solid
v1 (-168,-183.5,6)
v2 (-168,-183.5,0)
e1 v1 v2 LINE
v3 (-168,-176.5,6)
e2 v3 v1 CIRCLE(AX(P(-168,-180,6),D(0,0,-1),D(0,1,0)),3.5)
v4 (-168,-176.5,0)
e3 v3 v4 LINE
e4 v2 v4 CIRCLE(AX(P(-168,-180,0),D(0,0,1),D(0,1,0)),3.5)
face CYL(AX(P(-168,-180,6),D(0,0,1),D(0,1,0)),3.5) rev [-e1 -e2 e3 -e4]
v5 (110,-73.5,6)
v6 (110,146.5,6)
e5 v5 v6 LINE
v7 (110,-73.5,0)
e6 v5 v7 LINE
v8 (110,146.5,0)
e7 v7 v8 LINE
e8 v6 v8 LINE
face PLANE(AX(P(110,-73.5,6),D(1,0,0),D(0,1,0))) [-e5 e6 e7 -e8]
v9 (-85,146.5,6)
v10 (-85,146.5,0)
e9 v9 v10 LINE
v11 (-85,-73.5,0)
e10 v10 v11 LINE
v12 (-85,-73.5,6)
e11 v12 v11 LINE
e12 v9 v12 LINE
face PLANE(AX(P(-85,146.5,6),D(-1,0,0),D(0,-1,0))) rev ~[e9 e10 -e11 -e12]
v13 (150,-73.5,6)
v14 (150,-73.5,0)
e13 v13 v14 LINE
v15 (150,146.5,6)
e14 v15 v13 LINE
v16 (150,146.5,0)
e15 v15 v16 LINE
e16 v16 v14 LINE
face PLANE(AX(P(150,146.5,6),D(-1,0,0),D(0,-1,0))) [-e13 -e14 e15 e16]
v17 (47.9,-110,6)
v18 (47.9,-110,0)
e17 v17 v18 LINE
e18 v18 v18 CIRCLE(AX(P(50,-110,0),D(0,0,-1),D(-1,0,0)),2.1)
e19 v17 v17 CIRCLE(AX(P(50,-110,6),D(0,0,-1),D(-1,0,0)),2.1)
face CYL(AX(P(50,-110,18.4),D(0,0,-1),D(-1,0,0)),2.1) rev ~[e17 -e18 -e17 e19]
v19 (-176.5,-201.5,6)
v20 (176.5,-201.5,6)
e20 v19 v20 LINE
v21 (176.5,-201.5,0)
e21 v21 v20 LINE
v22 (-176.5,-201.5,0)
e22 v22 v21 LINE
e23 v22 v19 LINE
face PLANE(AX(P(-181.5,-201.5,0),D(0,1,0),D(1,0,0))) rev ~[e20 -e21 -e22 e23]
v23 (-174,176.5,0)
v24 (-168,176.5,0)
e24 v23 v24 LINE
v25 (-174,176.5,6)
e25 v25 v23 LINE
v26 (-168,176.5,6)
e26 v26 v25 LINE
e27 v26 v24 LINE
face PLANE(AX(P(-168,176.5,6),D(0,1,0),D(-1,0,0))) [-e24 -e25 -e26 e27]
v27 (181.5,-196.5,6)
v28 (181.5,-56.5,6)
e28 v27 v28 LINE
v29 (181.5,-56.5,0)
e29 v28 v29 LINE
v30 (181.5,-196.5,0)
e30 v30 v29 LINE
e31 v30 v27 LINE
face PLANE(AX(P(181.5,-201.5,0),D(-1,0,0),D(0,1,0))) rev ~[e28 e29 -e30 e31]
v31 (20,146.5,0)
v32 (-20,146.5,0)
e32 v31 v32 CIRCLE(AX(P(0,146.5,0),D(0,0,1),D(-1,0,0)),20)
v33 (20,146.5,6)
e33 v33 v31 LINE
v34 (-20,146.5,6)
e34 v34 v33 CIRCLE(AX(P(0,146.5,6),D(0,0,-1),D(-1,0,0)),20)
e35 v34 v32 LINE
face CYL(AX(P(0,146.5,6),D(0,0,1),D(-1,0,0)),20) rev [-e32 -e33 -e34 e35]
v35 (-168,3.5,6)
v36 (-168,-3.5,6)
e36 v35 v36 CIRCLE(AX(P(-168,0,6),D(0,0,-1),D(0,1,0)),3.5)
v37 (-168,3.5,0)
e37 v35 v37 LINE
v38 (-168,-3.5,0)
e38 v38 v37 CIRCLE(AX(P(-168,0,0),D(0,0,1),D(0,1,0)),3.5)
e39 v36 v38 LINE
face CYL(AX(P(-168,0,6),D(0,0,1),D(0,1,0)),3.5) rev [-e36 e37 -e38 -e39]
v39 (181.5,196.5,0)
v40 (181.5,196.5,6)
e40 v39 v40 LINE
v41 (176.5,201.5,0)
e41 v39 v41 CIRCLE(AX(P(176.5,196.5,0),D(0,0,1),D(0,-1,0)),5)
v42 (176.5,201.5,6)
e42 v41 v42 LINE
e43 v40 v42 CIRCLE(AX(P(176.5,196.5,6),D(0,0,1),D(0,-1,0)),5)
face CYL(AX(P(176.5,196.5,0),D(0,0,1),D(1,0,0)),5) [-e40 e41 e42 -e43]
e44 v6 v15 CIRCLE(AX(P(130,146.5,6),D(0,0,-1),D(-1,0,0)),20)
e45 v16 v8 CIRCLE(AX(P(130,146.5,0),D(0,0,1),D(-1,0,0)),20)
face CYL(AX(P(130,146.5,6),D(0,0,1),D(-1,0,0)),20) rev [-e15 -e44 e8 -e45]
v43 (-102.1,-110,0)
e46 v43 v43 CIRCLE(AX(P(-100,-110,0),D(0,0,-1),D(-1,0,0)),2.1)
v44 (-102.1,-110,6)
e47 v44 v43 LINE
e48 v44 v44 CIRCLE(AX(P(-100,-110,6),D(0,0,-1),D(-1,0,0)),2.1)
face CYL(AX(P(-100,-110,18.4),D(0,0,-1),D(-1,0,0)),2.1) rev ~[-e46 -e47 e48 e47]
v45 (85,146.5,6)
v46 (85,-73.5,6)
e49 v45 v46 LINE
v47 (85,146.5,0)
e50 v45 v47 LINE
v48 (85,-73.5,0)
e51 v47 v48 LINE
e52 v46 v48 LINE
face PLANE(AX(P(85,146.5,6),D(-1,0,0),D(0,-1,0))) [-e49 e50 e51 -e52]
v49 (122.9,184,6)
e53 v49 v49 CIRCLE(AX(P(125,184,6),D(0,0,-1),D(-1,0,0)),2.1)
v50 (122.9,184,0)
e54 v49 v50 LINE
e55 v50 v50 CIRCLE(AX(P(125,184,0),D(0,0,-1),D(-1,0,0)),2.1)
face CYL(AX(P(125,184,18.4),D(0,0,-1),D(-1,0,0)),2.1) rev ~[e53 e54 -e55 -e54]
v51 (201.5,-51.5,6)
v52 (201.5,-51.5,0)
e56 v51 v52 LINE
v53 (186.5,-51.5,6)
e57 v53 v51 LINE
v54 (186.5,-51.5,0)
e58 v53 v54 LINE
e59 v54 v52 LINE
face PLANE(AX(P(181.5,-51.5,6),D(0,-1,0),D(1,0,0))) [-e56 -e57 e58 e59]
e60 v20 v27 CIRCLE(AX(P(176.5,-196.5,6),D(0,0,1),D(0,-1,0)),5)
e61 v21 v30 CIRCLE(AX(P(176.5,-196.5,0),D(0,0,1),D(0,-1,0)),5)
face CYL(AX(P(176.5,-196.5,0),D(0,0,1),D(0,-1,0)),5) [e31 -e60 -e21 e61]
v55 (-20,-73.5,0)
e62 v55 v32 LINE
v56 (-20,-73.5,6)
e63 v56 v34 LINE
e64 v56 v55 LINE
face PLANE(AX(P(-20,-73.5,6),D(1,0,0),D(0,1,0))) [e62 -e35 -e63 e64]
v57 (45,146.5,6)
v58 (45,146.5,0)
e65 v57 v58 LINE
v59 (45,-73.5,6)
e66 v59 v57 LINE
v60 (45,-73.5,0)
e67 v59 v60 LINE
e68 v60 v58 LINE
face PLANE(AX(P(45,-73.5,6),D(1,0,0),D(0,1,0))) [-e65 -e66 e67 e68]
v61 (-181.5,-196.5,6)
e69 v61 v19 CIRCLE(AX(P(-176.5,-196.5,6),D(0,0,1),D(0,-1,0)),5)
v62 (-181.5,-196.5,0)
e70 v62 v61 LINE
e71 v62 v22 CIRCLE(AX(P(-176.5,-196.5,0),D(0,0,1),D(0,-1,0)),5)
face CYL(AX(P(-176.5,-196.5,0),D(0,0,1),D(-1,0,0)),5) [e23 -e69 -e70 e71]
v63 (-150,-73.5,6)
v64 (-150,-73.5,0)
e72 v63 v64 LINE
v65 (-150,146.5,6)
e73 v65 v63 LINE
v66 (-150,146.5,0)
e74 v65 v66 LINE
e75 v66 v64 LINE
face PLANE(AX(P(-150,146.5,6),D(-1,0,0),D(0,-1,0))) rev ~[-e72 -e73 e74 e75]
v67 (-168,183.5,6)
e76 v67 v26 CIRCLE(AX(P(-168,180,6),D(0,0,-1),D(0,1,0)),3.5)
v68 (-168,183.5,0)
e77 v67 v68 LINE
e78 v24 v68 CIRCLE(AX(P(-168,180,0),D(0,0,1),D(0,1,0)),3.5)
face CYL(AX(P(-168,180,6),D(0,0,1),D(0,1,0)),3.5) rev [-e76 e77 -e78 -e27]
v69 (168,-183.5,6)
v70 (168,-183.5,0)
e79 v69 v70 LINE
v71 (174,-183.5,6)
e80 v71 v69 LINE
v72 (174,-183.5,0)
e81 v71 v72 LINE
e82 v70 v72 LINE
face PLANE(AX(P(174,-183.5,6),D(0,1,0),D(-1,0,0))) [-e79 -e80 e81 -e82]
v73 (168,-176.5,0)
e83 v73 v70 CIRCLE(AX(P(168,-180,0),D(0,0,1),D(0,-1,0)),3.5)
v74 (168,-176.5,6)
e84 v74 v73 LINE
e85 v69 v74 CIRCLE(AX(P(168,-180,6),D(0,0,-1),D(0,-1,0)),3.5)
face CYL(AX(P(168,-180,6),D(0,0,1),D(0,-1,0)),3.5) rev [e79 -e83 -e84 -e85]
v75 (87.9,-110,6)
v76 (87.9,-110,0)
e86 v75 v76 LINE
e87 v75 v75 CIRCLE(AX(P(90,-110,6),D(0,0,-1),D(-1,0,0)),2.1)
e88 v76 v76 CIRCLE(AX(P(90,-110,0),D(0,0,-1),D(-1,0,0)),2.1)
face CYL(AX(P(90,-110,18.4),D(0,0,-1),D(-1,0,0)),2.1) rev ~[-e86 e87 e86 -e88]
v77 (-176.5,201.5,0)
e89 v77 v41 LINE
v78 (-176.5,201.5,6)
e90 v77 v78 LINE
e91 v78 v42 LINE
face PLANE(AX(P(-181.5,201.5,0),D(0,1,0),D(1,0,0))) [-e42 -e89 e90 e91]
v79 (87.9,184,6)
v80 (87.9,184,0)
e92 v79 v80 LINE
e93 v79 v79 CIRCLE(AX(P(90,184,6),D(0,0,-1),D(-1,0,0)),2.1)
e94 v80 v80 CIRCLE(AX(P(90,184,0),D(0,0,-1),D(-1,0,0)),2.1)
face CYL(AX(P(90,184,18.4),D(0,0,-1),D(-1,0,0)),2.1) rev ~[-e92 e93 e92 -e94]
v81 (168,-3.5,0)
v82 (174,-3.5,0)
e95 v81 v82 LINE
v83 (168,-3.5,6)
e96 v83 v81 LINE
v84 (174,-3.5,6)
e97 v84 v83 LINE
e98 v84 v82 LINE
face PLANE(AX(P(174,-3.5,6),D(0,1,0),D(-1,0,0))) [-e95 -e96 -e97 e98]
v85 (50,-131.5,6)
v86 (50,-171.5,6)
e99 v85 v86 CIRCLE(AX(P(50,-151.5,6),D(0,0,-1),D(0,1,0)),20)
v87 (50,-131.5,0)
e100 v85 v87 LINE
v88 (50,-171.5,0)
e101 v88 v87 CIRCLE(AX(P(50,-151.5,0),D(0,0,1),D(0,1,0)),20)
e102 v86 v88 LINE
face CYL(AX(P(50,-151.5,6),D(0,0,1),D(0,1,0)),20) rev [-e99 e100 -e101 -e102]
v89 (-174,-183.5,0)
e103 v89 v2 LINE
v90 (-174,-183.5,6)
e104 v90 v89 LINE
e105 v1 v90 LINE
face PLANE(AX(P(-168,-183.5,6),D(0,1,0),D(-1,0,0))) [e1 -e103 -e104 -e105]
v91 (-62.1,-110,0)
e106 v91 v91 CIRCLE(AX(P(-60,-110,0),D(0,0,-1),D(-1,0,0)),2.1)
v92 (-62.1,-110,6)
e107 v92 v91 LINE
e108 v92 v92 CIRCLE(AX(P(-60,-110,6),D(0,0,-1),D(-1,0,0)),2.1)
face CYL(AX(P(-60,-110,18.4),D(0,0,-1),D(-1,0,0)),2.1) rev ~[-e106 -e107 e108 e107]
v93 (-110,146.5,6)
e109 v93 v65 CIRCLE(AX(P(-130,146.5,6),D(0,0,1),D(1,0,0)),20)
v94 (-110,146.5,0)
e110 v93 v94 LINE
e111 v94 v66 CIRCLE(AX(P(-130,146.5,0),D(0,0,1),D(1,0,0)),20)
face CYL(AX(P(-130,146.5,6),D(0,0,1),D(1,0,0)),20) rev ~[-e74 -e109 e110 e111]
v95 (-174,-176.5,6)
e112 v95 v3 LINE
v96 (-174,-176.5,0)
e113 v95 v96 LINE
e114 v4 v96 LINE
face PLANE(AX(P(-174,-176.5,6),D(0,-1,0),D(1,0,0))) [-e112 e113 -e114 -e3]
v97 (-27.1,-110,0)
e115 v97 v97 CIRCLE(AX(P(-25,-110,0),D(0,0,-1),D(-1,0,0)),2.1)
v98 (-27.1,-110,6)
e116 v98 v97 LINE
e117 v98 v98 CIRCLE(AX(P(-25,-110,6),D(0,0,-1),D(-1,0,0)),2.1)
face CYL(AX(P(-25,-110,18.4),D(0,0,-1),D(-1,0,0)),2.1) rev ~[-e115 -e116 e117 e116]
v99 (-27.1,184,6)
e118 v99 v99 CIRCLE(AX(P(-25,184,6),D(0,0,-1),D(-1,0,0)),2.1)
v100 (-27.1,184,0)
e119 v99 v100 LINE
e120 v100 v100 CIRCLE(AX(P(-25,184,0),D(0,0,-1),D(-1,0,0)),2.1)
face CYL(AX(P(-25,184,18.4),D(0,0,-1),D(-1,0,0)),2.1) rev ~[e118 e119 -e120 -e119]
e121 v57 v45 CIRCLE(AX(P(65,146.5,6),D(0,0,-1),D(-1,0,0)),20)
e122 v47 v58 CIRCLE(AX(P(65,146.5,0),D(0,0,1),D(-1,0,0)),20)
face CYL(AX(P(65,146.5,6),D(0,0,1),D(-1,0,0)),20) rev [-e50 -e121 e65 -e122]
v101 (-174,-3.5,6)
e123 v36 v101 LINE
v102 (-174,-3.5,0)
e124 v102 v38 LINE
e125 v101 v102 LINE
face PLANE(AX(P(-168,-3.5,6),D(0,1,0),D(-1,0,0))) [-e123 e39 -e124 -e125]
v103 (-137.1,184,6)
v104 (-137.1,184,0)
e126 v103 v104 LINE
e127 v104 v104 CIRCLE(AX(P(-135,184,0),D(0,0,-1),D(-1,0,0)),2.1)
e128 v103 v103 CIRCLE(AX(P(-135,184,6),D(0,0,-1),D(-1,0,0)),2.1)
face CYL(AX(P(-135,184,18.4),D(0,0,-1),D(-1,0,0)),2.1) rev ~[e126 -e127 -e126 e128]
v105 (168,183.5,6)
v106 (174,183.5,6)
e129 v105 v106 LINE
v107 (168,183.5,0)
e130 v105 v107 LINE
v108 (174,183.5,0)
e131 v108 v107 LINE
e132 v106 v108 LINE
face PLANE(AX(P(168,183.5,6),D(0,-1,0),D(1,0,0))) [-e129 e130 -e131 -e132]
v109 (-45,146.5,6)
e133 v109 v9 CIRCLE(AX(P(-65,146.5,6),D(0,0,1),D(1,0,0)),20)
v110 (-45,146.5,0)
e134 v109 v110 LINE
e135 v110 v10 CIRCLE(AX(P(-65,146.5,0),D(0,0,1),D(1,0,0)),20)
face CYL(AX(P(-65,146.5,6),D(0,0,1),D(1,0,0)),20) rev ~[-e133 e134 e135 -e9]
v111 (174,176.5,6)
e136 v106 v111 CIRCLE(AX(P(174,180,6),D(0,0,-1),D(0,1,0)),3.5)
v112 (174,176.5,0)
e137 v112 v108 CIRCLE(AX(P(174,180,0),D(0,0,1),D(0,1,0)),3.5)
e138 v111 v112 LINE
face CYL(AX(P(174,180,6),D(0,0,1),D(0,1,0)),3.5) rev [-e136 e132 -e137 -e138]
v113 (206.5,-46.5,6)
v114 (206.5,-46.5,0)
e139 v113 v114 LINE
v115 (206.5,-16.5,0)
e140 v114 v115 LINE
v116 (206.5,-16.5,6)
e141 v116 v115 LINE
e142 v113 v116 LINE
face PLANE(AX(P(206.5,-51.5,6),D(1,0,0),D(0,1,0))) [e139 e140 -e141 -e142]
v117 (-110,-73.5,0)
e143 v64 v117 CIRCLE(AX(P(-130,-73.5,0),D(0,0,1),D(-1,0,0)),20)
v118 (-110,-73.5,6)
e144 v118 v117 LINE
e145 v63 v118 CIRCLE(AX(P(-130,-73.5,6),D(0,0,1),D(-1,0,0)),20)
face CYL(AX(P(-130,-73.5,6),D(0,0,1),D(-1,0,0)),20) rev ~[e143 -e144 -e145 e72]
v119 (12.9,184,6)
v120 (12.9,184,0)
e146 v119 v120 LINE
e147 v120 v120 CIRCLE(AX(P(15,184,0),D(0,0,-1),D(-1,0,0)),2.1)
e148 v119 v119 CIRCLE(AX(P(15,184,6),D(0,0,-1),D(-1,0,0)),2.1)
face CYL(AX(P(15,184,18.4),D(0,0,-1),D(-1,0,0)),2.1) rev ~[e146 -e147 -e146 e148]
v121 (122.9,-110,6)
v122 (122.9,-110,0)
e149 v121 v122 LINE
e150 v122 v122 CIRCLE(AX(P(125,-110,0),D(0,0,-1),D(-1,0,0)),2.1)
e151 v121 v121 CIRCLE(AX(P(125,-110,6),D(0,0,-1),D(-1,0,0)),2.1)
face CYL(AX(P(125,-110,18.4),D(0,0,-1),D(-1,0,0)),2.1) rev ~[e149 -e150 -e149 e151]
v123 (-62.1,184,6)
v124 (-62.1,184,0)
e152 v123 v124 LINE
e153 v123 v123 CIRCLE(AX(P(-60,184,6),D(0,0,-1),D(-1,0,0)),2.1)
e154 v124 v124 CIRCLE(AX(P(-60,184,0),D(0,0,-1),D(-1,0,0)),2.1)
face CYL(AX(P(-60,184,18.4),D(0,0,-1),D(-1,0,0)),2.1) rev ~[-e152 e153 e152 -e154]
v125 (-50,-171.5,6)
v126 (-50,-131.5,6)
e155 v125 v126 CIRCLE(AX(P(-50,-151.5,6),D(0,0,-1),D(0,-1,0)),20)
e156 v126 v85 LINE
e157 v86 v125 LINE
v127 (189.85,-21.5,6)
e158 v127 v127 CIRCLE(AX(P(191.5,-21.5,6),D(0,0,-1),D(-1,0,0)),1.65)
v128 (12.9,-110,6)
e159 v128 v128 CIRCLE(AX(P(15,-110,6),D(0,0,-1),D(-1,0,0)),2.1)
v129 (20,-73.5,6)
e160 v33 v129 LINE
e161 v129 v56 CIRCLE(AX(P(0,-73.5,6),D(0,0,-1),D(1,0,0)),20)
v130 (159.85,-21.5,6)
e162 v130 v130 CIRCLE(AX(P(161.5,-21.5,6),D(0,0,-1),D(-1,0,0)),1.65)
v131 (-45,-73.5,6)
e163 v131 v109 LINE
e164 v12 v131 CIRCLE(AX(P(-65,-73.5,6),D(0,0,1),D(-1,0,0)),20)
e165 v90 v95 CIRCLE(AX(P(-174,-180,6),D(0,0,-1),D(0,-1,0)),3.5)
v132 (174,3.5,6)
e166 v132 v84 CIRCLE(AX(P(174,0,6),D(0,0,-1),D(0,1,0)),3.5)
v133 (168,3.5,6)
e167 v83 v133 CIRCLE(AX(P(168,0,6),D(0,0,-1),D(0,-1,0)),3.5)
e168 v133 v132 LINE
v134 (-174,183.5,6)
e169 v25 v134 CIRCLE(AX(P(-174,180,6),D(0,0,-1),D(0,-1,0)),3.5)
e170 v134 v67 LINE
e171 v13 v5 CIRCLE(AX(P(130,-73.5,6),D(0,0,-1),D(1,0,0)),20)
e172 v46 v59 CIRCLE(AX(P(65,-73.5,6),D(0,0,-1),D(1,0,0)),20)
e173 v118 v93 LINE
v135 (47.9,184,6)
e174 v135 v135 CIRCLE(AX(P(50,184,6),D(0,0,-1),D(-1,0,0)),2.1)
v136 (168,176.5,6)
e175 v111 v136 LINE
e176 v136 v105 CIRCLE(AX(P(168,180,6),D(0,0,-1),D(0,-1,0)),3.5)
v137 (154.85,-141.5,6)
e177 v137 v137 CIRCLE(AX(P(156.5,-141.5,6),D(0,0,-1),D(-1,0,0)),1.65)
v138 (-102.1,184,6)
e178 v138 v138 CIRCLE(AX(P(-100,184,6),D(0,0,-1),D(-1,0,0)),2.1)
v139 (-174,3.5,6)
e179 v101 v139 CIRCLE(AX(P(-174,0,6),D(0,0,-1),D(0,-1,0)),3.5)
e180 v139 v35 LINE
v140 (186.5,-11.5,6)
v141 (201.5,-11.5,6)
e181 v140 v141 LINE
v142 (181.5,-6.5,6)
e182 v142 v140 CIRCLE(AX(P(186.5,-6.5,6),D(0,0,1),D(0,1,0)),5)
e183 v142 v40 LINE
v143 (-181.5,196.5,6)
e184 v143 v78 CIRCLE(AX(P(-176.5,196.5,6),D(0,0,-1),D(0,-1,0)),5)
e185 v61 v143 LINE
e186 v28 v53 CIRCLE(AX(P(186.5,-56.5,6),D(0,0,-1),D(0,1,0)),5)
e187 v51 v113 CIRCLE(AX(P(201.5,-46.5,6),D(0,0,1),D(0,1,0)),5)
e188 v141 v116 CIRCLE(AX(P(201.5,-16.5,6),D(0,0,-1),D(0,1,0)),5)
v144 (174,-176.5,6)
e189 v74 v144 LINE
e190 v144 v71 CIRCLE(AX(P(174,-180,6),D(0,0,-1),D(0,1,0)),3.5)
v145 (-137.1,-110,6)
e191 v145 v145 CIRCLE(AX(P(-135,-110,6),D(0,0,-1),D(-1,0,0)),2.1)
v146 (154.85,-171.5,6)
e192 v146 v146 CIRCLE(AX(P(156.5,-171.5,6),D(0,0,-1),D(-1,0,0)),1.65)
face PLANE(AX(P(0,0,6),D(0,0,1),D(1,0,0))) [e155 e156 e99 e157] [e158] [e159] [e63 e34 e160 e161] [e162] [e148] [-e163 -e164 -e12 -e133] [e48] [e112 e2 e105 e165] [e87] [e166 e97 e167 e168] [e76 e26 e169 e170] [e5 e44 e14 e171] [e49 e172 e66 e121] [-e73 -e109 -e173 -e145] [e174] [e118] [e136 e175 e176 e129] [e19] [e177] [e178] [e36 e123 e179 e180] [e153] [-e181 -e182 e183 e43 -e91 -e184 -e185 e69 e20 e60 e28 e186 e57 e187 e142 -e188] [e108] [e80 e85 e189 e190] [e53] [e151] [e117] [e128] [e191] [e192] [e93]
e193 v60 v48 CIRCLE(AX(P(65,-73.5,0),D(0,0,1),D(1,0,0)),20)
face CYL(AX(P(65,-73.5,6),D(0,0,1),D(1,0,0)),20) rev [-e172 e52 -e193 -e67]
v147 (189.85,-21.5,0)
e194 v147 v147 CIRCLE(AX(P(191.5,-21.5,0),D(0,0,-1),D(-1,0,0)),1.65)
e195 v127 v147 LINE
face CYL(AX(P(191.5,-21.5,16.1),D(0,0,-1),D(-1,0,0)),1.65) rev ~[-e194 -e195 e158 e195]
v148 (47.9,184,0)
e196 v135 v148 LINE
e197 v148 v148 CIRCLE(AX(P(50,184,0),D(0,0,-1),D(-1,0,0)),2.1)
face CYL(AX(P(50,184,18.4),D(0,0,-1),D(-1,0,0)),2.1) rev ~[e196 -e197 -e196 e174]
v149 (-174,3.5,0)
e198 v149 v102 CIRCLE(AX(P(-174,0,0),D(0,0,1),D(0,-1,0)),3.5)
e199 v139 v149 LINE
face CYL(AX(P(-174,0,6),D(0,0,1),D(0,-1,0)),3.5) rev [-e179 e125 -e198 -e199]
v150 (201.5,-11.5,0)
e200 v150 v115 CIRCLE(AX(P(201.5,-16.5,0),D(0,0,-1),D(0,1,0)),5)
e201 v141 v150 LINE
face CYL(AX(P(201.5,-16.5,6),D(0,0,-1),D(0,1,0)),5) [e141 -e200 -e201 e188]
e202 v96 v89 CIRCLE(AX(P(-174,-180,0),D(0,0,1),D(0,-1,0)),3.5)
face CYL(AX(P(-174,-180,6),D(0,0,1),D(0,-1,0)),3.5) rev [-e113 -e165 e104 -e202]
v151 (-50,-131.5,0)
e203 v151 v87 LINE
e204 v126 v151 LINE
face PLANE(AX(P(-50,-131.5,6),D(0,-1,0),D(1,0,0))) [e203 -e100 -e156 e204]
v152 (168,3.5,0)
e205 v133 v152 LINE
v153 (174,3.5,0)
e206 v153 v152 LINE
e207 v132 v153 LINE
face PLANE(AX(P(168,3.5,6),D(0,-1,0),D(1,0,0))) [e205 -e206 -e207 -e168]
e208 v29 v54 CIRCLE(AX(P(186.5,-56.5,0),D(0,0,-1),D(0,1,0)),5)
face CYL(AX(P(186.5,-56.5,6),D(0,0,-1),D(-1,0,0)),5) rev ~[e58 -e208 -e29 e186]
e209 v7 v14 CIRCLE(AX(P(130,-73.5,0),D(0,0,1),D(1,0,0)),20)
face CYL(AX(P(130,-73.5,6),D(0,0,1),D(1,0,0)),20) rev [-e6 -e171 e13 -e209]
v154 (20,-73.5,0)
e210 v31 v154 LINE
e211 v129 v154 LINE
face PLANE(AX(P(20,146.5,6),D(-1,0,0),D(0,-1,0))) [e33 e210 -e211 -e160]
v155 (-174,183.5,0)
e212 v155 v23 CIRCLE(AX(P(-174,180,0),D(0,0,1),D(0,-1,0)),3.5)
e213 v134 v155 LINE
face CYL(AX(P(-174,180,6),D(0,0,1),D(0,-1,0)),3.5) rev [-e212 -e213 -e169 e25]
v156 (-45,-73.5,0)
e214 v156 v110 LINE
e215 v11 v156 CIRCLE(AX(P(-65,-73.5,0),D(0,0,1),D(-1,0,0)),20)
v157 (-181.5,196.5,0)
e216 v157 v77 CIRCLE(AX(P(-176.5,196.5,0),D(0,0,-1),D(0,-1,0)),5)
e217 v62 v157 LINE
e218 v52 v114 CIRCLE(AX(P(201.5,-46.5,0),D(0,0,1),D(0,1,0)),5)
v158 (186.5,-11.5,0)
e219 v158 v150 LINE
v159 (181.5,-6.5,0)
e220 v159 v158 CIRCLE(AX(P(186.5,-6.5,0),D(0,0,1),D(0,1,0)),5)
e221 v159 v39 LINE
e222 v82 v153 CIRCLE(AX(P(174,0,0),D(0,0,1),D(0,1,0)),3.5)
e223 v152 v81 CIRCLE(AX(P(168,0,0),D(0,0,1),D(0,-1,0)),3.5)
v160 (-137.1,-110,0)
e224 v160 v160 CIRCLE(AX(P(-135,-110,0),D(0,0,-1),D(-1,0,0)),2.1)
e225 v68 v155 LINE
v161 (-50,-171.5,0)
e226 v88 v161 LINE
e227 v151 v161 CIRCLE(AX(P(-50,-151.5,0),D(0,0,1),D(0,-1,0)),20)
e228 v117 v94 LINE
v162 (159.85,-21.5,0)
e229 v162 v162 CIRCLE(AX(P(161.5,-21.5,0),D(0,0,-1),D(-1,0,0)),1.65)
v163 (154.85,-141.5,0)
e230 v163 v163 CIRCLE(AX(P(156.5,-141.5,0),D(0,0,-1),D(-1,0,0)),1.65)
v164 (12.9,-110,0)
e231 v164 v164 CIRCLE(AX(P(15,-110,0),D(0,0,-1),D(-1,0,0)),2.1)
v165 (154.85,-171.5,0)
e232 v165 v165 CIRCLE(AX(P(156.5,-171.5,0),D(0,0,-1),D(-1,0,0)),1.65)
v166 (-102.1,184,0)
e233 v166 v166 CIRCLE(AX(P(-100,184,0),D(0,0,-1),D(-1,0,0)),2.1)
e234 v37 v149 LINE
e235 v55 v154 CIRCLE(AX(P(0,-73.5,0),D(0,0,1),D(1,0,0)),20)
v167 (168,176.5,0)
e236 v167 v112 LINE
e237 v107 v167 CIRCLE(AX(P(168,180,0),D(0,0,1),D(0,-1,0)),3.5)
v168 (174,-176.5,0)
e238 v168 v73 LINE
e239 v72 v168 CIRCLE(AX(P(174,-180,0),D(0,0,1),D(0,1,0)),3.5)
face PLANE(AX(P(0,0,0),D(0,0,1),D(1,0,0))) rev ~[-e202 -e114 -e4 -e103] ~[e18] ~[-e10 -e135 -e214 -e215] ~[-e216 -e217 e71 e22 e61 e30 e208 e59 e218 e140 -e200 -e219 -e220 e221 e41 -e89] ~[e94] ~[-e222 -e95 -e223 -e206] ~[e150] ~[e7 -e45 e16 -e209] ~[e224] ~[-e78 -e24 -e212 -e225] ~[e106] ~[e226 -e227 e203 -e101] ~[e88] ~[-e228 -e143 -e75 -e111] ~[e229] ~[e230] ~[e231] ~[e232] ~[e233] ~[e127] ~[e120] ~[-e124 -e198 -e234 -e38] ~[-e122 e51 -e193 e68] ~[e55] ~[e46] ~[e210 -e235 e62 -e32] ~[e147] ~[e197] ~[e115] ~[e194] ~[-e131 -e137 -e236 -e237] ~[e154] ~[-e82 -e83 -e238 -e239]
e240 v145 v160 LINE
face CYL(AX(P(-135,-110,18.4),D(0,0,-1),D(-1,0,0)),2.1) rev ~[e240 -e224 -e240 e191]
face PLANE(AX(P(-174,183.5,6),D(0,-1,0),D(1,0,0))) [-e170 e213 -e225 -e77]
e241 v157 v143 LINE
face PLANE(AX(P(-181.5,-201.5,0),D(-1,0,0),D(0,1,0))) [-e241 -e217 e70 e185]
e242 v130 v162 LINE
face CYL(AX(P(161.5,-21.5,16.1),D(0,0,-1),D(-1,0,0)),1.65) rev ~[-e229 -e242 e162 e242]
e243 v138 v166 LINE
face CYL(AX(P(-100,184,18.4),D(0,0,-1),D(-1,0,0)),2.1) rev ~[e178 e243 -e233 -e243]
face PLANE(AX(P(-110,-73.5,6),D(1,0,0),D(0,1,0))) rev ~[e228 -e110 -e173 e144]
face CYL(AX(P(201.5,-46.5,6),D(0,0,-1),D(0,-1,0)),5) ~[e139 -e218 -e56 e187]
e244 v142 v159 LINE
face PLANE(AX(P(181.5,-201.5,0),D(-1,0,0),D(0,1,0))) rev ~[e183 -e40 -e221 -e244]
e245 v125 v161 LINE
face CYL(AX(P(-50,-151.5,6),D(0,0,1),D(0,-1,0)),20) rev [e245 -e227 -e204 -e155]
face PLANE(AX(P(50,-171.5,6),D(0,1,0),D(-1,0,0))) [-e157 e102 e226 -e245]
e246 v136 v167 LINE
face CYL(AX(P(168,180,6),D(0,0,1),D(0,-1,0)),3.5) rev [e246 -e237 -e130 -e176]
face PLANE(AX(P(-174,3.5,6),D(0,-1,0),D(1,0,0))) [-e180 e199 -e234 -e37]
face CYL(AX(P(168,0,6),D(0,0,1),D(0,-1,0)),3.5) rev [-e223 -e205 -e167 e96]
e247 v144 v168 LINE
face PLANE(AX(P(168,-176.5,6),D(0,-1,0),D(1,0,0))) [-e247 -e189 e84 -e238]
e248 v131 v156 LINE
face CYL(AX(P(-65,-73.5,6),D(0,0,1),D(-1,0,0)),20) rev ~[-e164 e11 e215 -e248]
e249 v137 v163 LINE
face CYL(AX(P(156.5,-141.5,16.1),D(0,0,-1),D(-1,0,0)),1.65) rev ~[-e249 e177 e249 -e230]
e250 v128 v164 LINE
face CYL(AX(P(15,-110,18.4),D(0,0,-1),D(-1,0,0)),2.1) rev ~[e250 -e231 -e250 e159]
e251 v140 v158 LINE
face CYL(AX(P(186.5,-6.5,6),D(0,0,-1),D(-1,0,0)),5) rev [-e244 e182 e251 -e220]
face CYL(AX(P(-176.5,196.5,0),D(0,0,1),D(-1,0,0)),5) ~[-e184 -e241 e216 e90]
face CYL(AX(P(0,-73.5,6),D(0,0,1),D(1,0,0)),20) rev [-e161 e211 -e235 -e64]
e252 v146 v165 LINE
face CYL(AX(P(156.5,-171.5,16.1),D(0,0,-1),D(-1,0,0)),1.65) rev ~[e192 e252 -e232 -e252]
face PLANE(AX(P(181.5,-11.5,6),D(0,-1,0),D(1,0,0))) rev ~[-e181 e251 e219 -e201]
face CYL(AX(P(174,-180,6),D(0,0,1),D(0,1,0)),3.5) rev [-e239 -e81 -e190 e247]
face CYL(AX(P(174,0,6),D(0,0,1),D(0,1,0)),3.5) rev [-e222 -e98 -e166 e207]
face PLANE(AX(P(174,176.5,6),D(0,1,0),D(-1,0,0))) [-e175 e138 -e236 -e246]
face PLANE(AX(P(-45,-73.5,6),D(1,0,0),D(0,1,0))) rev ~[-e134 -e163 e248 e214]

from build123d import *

# Parameters (mm, degrees)
SKETCH_1_W             = 363
SKETCH_1_H             = 403
EXTRUDE_1_DEPTH        = 6
FILLET_1_R             = 5
SKETCH_3_R             = 3.5
CUT_EXTRUDE_2_DEPTH    = 10
HOLE_WIZARD_M5_1_D     = 4.2
HOLE_WIZARD_M5_1_DEPTH = 12.4
HOLE_WIZARD_M5_1_TIP   = 1.2618073
CUT_EXTRUDE_3_DEPTH    = 10
CUT_EXTRUDE_4_DEPTH    = 10
CUT_EXTRUDE_5_DEPTH    = 10
HOLE_WIZARD_M4_1_D     = 3.3
HOLE_WIZARD_M4_1_DEPTH = 10.1
HOLE_WIZARD_M4_1_TIP   = 0.991420021
SKETCH_11_W            = 25
SKETCH_11_H            = 40
EXTRUDE_2_DEPTH        = 6
HOLE_WIZARD_M4_2_D     = 3.3
HOLE_WIZARD_M4_2_DEPTH = 10.1
HOLE_WIZARD_M4_2_TIP   = 0.991420021
FILLET_2_R             = 5


with BuildPart() as part:
    # Sketch 1 → 凸台-拉伸1 (new body)
    with BuildSketch(Plane.XY):
        Rectangle(SKETCH_1_W, SKETCH_1_H)
    extrude(amount=EXTRUDE_1_DEPTH)

    # 圆角1
    fillet_1_edges = [part.edges().sort_by_distance(p)[0] for p in [
        (181.5, -201.5, 3),
        (-181.5, -201.5, 3),
        (-181.5, 201.5, 3),
        (181.5, 201.5, 3),
    ]]
    fillet(fillet_1_edges, radius=FILLET_1_R)

    # 草图3 → 切除-拉伸2 (cut)
    with BuildSketch(Plane.XY.offset(6)):
        with Locations((-171, -180)):
            Circle(SKETCH_3_R)
        with Locations((-171, 180)):
            Circle(SKETCH_3_R)
        with Locations((-171, 0)):
            Circle(SKETCH_3_R)
        with Locations((171, 0)):
            Circle(SKETCH_3_R)
        with Locations((171, 180)):
            Circle(SKETCH_3_R)
        with Locations((171, -180)):
            Circle(SKETCH_3_R)
    extrude(amount=-CUT_EXTRUDE_2_DEPTH, mode=Mode.SUBTRACT)

    # M5 螺纹孔1
    with Locations(Plane.XY.offset(6)):
        with Locations((-135, -110), (-100, -110), (-135, 184), (-100, 184), (-60, -110), (-25, -110), (-60, 184), (-25, 184), (15, -110), (50, -110), (15, 184), (50, 184), (90, -110), (125, -110), (90, 184), (125, 184)):
            Hole(HOLE_WIZARD_M5_1_D / 2, depth=HOLE_WIZARD_M5_1_DEPTH)
            with Locations((0, 0, -(HOLE_WIZARD_M5_1_DEPTH + HOLE_WIZARD_M5_1_TIP / 2))):  # 118° drill point
                Cone(0, HOLE_WIZARD_M5_1_D / 2, HOLE_WIZARD_M5_1_TIP, mode=Mode.SUBTRACT)

    # 草图6 → 切除-拉伸3 (cut)
    with BuildSketch(Plane.XY.offset(6)):
        with BuildLine():
            Line((-174, 183.5), (-168, 183.5))
            ThreePointArc((-168, 183.5), (-164.5, 180), (-168, 176.5))
            Line((-168, 176.5), (-174, 176.5))
            ThreePointArc((-174, 176.5), (-177.5, 180), (-174, 183.5))
        make_face()
        with BuildLine():
            Line((168, 183.5), (174, 183.5))
            ThreePointArc((174, 183.5), (177.5, 180), (174, 176.5))
            Line((174, 176.5), (168, 176.5))
            ThreePointArc((168, 176.5), (164.5, 180), (168, 183.5))
        make_face()
        with BuildLine():
            Line((168, 3.5), (174, 3.5))
            ThreePointArc((174, 3.5), (177.5, 0), (174, -3.5))
            Line((174, -3.5), (168, -3.5))
            ThreePointArc((168, -3.5), (164.5, 0), (168, 3.5))
        make_face()
        with BuildLine():
            Line((168, -176.5), (174, -176.5))
            ThreePointArc((174, -176.5), (177.5, -180), (174, -183.5))
            Line((174, -183.5), (168, -183.5))
            ThreePointArc((168, -183.5), (164.5, -180), (168, -176.5))
        make_face()
        with BuildLine():
            Line((-174, 3.5), (-168, 3.5))
            ThreePointArc((-168, 3.5), (-164.5, 0), (-168, -3.5))
            Line((-168, -3.5), (-174, -3.5))
            ThreePointArc((-174, -3.5), (-177.5, 0), (-174, 3.5))
        make_face()
        with BuildLine():
            Line((-174, -176.5), (-168, -176.5))
            ThreePointArc((-168, -176.5), (-164.5, -180), (-168, -183.5))
            Line((-168, -183.5), (-174, -183.5))
            ThreePointArc((-174, -183.5), (-177.5, -180), (-174, -176.5))
        make_face()
    extrude(amount=-CUT_EXTRUDE_3_DEPTH, mode=Mode.SUBTRACT)

    # 草图7 → 切除-拉伸4 (cut)
    with BuildSketch(Plane.XY.offset(6)):
        with BuildLine():
            Line((-50, -131.5), (50, -131.5))
            ThreePointArc((50, -131.5), (70, -151.5), (50, -171.5))
            Line((50, -171.5), (-50, -171.5))
            ThreePointArc((-50, -171.5), (-70, -151.5), (-50, -131.5))
        make_face()
    extrude(amount=-CUT_EXTRUDE_4_DEPTH, mode=Mode.SUBTRACT)

    # 草图8 → 切除-拉伸5 (cut)
    with BuildSketch(Plane.XY.offset(6)):
        with BuildLine():
            Line((20, 146.5), (20, -73.5))
            ThreePointArc((20, -73.5), (0, -93.5), (-20, -73.5))
            Line((-20, -73.5), (-20, 146.5))
            ThreePointArc((-20, 146.5), (0, 166.5), (20, 146.5))
        make_face()
        with BuildLine():
            Line((85, 146.5), (85, -73.5))
            ThreePointArc((85, -73.5), (65, -93.5), (45, -73.5))
            Line((45, -73.5), (45, 146.5))
            ThreePointArc((45, 146.5), (65, 166.5), (85, 146.5))
        make_face()
        with BuildLine():
            Line((150, 146.5), (150, -73.5))
            ThreePointArc((150, -73.5), (130, -93.5), (110, -73.5))
            Line((110, -73.5), (110, 146.5))
            ThreePointArc((110, 146.5), (130, 166.5), (150, 146.5))
        make_face()
        with BuildLine():
            Line((-150, 146.5), (-150, -73.5))
            ThreePointArc((-150, -73.5), (-130, -93.5), (-110, -73.5))
            Line((-110, -73.5), (-110, 146.5))
            ThreePointArc((-110, 146.5), (-130, 166.5), (-150, 146.5))
        make_face()
        with BuildLine():
            Line((-85, 146.5), (-85, -73.5))
            ThreePointArc((-85, -73.5), (-65, -93.5), (-45, -73.5))
            Line((-45, -73.5), (-45, 146.5))
            ThreePointArc((-45, 146.5), (-65, 166.5), (-85, 146.5))
        make_face()
    extrude(amount=-CUT_EXTRUDE_5_DEPTH, mode=Mode.SUBTRACT)

    # M4 螺纹孔1
    with Locations(Plane.XY.offset(6)):
        with Locations((156.5, -171.5), (156.5, -141.5)):
            Hole(HOLE_WIZARD_M4_1_D / 2, depth=HOLE_WIZARD_M4_1_DEPTH)
            with Locations((0, 0, -(HOLE_WIZARD_M4_1_DEPTH + HOLE_WIZARD_M4_1_TIP / 2))):  # 118° drill point
                Cone(0, HOLE_WIZARD_M4_1_D / 2, HOLE_WIZARD_M4_1_TIP, mode=Mode.SUBTRACT)

    # 草图11 → 凸台-拉伸2 (add)
    with BuildSketch(Plane.XY.offset(6)):
        with Locations((194, -31.5)):
            Rectangle(SKETCH_11_W, SKETCH_11_H)
    extrude(amount=-EXTRUDE_2_DEPTH)

    # M4 螺纹孔2
    with Locations(Plane.XY.offset(6)):
        with Locations((161.5, -21.5), (191.5, -21.5)):
            Hole(HOLE_WIZARD_M4_2_D / 2, depth=HOLE_WIZARD_M4_2_DEPTH)
            with Locations((0, 0, -(HOLE_WIZARD_M4_2_DEPTH + HOLE_WIZARD_M4_2_TIP / 2))):  # 118° drill point
                Cone(0, HOLE_WIZARD_M4_2_D / 2, HOLE_WIZARD_M4_2_TIP, mode=Mode.SUBTRACT)

    # 圆角2
    fillet_2_edges = [part.edges().sort_by_distance(p)[0] for p in [
        (181.5, -51.5, 3),
        (181.5, -11.5, 3),
        (206.5, -11.5, 3),
        (206.5, -51.5, 3),
    ]]
    fillet(fillet_2_edges, radius=FILLET_2_R)


solid = part.part
